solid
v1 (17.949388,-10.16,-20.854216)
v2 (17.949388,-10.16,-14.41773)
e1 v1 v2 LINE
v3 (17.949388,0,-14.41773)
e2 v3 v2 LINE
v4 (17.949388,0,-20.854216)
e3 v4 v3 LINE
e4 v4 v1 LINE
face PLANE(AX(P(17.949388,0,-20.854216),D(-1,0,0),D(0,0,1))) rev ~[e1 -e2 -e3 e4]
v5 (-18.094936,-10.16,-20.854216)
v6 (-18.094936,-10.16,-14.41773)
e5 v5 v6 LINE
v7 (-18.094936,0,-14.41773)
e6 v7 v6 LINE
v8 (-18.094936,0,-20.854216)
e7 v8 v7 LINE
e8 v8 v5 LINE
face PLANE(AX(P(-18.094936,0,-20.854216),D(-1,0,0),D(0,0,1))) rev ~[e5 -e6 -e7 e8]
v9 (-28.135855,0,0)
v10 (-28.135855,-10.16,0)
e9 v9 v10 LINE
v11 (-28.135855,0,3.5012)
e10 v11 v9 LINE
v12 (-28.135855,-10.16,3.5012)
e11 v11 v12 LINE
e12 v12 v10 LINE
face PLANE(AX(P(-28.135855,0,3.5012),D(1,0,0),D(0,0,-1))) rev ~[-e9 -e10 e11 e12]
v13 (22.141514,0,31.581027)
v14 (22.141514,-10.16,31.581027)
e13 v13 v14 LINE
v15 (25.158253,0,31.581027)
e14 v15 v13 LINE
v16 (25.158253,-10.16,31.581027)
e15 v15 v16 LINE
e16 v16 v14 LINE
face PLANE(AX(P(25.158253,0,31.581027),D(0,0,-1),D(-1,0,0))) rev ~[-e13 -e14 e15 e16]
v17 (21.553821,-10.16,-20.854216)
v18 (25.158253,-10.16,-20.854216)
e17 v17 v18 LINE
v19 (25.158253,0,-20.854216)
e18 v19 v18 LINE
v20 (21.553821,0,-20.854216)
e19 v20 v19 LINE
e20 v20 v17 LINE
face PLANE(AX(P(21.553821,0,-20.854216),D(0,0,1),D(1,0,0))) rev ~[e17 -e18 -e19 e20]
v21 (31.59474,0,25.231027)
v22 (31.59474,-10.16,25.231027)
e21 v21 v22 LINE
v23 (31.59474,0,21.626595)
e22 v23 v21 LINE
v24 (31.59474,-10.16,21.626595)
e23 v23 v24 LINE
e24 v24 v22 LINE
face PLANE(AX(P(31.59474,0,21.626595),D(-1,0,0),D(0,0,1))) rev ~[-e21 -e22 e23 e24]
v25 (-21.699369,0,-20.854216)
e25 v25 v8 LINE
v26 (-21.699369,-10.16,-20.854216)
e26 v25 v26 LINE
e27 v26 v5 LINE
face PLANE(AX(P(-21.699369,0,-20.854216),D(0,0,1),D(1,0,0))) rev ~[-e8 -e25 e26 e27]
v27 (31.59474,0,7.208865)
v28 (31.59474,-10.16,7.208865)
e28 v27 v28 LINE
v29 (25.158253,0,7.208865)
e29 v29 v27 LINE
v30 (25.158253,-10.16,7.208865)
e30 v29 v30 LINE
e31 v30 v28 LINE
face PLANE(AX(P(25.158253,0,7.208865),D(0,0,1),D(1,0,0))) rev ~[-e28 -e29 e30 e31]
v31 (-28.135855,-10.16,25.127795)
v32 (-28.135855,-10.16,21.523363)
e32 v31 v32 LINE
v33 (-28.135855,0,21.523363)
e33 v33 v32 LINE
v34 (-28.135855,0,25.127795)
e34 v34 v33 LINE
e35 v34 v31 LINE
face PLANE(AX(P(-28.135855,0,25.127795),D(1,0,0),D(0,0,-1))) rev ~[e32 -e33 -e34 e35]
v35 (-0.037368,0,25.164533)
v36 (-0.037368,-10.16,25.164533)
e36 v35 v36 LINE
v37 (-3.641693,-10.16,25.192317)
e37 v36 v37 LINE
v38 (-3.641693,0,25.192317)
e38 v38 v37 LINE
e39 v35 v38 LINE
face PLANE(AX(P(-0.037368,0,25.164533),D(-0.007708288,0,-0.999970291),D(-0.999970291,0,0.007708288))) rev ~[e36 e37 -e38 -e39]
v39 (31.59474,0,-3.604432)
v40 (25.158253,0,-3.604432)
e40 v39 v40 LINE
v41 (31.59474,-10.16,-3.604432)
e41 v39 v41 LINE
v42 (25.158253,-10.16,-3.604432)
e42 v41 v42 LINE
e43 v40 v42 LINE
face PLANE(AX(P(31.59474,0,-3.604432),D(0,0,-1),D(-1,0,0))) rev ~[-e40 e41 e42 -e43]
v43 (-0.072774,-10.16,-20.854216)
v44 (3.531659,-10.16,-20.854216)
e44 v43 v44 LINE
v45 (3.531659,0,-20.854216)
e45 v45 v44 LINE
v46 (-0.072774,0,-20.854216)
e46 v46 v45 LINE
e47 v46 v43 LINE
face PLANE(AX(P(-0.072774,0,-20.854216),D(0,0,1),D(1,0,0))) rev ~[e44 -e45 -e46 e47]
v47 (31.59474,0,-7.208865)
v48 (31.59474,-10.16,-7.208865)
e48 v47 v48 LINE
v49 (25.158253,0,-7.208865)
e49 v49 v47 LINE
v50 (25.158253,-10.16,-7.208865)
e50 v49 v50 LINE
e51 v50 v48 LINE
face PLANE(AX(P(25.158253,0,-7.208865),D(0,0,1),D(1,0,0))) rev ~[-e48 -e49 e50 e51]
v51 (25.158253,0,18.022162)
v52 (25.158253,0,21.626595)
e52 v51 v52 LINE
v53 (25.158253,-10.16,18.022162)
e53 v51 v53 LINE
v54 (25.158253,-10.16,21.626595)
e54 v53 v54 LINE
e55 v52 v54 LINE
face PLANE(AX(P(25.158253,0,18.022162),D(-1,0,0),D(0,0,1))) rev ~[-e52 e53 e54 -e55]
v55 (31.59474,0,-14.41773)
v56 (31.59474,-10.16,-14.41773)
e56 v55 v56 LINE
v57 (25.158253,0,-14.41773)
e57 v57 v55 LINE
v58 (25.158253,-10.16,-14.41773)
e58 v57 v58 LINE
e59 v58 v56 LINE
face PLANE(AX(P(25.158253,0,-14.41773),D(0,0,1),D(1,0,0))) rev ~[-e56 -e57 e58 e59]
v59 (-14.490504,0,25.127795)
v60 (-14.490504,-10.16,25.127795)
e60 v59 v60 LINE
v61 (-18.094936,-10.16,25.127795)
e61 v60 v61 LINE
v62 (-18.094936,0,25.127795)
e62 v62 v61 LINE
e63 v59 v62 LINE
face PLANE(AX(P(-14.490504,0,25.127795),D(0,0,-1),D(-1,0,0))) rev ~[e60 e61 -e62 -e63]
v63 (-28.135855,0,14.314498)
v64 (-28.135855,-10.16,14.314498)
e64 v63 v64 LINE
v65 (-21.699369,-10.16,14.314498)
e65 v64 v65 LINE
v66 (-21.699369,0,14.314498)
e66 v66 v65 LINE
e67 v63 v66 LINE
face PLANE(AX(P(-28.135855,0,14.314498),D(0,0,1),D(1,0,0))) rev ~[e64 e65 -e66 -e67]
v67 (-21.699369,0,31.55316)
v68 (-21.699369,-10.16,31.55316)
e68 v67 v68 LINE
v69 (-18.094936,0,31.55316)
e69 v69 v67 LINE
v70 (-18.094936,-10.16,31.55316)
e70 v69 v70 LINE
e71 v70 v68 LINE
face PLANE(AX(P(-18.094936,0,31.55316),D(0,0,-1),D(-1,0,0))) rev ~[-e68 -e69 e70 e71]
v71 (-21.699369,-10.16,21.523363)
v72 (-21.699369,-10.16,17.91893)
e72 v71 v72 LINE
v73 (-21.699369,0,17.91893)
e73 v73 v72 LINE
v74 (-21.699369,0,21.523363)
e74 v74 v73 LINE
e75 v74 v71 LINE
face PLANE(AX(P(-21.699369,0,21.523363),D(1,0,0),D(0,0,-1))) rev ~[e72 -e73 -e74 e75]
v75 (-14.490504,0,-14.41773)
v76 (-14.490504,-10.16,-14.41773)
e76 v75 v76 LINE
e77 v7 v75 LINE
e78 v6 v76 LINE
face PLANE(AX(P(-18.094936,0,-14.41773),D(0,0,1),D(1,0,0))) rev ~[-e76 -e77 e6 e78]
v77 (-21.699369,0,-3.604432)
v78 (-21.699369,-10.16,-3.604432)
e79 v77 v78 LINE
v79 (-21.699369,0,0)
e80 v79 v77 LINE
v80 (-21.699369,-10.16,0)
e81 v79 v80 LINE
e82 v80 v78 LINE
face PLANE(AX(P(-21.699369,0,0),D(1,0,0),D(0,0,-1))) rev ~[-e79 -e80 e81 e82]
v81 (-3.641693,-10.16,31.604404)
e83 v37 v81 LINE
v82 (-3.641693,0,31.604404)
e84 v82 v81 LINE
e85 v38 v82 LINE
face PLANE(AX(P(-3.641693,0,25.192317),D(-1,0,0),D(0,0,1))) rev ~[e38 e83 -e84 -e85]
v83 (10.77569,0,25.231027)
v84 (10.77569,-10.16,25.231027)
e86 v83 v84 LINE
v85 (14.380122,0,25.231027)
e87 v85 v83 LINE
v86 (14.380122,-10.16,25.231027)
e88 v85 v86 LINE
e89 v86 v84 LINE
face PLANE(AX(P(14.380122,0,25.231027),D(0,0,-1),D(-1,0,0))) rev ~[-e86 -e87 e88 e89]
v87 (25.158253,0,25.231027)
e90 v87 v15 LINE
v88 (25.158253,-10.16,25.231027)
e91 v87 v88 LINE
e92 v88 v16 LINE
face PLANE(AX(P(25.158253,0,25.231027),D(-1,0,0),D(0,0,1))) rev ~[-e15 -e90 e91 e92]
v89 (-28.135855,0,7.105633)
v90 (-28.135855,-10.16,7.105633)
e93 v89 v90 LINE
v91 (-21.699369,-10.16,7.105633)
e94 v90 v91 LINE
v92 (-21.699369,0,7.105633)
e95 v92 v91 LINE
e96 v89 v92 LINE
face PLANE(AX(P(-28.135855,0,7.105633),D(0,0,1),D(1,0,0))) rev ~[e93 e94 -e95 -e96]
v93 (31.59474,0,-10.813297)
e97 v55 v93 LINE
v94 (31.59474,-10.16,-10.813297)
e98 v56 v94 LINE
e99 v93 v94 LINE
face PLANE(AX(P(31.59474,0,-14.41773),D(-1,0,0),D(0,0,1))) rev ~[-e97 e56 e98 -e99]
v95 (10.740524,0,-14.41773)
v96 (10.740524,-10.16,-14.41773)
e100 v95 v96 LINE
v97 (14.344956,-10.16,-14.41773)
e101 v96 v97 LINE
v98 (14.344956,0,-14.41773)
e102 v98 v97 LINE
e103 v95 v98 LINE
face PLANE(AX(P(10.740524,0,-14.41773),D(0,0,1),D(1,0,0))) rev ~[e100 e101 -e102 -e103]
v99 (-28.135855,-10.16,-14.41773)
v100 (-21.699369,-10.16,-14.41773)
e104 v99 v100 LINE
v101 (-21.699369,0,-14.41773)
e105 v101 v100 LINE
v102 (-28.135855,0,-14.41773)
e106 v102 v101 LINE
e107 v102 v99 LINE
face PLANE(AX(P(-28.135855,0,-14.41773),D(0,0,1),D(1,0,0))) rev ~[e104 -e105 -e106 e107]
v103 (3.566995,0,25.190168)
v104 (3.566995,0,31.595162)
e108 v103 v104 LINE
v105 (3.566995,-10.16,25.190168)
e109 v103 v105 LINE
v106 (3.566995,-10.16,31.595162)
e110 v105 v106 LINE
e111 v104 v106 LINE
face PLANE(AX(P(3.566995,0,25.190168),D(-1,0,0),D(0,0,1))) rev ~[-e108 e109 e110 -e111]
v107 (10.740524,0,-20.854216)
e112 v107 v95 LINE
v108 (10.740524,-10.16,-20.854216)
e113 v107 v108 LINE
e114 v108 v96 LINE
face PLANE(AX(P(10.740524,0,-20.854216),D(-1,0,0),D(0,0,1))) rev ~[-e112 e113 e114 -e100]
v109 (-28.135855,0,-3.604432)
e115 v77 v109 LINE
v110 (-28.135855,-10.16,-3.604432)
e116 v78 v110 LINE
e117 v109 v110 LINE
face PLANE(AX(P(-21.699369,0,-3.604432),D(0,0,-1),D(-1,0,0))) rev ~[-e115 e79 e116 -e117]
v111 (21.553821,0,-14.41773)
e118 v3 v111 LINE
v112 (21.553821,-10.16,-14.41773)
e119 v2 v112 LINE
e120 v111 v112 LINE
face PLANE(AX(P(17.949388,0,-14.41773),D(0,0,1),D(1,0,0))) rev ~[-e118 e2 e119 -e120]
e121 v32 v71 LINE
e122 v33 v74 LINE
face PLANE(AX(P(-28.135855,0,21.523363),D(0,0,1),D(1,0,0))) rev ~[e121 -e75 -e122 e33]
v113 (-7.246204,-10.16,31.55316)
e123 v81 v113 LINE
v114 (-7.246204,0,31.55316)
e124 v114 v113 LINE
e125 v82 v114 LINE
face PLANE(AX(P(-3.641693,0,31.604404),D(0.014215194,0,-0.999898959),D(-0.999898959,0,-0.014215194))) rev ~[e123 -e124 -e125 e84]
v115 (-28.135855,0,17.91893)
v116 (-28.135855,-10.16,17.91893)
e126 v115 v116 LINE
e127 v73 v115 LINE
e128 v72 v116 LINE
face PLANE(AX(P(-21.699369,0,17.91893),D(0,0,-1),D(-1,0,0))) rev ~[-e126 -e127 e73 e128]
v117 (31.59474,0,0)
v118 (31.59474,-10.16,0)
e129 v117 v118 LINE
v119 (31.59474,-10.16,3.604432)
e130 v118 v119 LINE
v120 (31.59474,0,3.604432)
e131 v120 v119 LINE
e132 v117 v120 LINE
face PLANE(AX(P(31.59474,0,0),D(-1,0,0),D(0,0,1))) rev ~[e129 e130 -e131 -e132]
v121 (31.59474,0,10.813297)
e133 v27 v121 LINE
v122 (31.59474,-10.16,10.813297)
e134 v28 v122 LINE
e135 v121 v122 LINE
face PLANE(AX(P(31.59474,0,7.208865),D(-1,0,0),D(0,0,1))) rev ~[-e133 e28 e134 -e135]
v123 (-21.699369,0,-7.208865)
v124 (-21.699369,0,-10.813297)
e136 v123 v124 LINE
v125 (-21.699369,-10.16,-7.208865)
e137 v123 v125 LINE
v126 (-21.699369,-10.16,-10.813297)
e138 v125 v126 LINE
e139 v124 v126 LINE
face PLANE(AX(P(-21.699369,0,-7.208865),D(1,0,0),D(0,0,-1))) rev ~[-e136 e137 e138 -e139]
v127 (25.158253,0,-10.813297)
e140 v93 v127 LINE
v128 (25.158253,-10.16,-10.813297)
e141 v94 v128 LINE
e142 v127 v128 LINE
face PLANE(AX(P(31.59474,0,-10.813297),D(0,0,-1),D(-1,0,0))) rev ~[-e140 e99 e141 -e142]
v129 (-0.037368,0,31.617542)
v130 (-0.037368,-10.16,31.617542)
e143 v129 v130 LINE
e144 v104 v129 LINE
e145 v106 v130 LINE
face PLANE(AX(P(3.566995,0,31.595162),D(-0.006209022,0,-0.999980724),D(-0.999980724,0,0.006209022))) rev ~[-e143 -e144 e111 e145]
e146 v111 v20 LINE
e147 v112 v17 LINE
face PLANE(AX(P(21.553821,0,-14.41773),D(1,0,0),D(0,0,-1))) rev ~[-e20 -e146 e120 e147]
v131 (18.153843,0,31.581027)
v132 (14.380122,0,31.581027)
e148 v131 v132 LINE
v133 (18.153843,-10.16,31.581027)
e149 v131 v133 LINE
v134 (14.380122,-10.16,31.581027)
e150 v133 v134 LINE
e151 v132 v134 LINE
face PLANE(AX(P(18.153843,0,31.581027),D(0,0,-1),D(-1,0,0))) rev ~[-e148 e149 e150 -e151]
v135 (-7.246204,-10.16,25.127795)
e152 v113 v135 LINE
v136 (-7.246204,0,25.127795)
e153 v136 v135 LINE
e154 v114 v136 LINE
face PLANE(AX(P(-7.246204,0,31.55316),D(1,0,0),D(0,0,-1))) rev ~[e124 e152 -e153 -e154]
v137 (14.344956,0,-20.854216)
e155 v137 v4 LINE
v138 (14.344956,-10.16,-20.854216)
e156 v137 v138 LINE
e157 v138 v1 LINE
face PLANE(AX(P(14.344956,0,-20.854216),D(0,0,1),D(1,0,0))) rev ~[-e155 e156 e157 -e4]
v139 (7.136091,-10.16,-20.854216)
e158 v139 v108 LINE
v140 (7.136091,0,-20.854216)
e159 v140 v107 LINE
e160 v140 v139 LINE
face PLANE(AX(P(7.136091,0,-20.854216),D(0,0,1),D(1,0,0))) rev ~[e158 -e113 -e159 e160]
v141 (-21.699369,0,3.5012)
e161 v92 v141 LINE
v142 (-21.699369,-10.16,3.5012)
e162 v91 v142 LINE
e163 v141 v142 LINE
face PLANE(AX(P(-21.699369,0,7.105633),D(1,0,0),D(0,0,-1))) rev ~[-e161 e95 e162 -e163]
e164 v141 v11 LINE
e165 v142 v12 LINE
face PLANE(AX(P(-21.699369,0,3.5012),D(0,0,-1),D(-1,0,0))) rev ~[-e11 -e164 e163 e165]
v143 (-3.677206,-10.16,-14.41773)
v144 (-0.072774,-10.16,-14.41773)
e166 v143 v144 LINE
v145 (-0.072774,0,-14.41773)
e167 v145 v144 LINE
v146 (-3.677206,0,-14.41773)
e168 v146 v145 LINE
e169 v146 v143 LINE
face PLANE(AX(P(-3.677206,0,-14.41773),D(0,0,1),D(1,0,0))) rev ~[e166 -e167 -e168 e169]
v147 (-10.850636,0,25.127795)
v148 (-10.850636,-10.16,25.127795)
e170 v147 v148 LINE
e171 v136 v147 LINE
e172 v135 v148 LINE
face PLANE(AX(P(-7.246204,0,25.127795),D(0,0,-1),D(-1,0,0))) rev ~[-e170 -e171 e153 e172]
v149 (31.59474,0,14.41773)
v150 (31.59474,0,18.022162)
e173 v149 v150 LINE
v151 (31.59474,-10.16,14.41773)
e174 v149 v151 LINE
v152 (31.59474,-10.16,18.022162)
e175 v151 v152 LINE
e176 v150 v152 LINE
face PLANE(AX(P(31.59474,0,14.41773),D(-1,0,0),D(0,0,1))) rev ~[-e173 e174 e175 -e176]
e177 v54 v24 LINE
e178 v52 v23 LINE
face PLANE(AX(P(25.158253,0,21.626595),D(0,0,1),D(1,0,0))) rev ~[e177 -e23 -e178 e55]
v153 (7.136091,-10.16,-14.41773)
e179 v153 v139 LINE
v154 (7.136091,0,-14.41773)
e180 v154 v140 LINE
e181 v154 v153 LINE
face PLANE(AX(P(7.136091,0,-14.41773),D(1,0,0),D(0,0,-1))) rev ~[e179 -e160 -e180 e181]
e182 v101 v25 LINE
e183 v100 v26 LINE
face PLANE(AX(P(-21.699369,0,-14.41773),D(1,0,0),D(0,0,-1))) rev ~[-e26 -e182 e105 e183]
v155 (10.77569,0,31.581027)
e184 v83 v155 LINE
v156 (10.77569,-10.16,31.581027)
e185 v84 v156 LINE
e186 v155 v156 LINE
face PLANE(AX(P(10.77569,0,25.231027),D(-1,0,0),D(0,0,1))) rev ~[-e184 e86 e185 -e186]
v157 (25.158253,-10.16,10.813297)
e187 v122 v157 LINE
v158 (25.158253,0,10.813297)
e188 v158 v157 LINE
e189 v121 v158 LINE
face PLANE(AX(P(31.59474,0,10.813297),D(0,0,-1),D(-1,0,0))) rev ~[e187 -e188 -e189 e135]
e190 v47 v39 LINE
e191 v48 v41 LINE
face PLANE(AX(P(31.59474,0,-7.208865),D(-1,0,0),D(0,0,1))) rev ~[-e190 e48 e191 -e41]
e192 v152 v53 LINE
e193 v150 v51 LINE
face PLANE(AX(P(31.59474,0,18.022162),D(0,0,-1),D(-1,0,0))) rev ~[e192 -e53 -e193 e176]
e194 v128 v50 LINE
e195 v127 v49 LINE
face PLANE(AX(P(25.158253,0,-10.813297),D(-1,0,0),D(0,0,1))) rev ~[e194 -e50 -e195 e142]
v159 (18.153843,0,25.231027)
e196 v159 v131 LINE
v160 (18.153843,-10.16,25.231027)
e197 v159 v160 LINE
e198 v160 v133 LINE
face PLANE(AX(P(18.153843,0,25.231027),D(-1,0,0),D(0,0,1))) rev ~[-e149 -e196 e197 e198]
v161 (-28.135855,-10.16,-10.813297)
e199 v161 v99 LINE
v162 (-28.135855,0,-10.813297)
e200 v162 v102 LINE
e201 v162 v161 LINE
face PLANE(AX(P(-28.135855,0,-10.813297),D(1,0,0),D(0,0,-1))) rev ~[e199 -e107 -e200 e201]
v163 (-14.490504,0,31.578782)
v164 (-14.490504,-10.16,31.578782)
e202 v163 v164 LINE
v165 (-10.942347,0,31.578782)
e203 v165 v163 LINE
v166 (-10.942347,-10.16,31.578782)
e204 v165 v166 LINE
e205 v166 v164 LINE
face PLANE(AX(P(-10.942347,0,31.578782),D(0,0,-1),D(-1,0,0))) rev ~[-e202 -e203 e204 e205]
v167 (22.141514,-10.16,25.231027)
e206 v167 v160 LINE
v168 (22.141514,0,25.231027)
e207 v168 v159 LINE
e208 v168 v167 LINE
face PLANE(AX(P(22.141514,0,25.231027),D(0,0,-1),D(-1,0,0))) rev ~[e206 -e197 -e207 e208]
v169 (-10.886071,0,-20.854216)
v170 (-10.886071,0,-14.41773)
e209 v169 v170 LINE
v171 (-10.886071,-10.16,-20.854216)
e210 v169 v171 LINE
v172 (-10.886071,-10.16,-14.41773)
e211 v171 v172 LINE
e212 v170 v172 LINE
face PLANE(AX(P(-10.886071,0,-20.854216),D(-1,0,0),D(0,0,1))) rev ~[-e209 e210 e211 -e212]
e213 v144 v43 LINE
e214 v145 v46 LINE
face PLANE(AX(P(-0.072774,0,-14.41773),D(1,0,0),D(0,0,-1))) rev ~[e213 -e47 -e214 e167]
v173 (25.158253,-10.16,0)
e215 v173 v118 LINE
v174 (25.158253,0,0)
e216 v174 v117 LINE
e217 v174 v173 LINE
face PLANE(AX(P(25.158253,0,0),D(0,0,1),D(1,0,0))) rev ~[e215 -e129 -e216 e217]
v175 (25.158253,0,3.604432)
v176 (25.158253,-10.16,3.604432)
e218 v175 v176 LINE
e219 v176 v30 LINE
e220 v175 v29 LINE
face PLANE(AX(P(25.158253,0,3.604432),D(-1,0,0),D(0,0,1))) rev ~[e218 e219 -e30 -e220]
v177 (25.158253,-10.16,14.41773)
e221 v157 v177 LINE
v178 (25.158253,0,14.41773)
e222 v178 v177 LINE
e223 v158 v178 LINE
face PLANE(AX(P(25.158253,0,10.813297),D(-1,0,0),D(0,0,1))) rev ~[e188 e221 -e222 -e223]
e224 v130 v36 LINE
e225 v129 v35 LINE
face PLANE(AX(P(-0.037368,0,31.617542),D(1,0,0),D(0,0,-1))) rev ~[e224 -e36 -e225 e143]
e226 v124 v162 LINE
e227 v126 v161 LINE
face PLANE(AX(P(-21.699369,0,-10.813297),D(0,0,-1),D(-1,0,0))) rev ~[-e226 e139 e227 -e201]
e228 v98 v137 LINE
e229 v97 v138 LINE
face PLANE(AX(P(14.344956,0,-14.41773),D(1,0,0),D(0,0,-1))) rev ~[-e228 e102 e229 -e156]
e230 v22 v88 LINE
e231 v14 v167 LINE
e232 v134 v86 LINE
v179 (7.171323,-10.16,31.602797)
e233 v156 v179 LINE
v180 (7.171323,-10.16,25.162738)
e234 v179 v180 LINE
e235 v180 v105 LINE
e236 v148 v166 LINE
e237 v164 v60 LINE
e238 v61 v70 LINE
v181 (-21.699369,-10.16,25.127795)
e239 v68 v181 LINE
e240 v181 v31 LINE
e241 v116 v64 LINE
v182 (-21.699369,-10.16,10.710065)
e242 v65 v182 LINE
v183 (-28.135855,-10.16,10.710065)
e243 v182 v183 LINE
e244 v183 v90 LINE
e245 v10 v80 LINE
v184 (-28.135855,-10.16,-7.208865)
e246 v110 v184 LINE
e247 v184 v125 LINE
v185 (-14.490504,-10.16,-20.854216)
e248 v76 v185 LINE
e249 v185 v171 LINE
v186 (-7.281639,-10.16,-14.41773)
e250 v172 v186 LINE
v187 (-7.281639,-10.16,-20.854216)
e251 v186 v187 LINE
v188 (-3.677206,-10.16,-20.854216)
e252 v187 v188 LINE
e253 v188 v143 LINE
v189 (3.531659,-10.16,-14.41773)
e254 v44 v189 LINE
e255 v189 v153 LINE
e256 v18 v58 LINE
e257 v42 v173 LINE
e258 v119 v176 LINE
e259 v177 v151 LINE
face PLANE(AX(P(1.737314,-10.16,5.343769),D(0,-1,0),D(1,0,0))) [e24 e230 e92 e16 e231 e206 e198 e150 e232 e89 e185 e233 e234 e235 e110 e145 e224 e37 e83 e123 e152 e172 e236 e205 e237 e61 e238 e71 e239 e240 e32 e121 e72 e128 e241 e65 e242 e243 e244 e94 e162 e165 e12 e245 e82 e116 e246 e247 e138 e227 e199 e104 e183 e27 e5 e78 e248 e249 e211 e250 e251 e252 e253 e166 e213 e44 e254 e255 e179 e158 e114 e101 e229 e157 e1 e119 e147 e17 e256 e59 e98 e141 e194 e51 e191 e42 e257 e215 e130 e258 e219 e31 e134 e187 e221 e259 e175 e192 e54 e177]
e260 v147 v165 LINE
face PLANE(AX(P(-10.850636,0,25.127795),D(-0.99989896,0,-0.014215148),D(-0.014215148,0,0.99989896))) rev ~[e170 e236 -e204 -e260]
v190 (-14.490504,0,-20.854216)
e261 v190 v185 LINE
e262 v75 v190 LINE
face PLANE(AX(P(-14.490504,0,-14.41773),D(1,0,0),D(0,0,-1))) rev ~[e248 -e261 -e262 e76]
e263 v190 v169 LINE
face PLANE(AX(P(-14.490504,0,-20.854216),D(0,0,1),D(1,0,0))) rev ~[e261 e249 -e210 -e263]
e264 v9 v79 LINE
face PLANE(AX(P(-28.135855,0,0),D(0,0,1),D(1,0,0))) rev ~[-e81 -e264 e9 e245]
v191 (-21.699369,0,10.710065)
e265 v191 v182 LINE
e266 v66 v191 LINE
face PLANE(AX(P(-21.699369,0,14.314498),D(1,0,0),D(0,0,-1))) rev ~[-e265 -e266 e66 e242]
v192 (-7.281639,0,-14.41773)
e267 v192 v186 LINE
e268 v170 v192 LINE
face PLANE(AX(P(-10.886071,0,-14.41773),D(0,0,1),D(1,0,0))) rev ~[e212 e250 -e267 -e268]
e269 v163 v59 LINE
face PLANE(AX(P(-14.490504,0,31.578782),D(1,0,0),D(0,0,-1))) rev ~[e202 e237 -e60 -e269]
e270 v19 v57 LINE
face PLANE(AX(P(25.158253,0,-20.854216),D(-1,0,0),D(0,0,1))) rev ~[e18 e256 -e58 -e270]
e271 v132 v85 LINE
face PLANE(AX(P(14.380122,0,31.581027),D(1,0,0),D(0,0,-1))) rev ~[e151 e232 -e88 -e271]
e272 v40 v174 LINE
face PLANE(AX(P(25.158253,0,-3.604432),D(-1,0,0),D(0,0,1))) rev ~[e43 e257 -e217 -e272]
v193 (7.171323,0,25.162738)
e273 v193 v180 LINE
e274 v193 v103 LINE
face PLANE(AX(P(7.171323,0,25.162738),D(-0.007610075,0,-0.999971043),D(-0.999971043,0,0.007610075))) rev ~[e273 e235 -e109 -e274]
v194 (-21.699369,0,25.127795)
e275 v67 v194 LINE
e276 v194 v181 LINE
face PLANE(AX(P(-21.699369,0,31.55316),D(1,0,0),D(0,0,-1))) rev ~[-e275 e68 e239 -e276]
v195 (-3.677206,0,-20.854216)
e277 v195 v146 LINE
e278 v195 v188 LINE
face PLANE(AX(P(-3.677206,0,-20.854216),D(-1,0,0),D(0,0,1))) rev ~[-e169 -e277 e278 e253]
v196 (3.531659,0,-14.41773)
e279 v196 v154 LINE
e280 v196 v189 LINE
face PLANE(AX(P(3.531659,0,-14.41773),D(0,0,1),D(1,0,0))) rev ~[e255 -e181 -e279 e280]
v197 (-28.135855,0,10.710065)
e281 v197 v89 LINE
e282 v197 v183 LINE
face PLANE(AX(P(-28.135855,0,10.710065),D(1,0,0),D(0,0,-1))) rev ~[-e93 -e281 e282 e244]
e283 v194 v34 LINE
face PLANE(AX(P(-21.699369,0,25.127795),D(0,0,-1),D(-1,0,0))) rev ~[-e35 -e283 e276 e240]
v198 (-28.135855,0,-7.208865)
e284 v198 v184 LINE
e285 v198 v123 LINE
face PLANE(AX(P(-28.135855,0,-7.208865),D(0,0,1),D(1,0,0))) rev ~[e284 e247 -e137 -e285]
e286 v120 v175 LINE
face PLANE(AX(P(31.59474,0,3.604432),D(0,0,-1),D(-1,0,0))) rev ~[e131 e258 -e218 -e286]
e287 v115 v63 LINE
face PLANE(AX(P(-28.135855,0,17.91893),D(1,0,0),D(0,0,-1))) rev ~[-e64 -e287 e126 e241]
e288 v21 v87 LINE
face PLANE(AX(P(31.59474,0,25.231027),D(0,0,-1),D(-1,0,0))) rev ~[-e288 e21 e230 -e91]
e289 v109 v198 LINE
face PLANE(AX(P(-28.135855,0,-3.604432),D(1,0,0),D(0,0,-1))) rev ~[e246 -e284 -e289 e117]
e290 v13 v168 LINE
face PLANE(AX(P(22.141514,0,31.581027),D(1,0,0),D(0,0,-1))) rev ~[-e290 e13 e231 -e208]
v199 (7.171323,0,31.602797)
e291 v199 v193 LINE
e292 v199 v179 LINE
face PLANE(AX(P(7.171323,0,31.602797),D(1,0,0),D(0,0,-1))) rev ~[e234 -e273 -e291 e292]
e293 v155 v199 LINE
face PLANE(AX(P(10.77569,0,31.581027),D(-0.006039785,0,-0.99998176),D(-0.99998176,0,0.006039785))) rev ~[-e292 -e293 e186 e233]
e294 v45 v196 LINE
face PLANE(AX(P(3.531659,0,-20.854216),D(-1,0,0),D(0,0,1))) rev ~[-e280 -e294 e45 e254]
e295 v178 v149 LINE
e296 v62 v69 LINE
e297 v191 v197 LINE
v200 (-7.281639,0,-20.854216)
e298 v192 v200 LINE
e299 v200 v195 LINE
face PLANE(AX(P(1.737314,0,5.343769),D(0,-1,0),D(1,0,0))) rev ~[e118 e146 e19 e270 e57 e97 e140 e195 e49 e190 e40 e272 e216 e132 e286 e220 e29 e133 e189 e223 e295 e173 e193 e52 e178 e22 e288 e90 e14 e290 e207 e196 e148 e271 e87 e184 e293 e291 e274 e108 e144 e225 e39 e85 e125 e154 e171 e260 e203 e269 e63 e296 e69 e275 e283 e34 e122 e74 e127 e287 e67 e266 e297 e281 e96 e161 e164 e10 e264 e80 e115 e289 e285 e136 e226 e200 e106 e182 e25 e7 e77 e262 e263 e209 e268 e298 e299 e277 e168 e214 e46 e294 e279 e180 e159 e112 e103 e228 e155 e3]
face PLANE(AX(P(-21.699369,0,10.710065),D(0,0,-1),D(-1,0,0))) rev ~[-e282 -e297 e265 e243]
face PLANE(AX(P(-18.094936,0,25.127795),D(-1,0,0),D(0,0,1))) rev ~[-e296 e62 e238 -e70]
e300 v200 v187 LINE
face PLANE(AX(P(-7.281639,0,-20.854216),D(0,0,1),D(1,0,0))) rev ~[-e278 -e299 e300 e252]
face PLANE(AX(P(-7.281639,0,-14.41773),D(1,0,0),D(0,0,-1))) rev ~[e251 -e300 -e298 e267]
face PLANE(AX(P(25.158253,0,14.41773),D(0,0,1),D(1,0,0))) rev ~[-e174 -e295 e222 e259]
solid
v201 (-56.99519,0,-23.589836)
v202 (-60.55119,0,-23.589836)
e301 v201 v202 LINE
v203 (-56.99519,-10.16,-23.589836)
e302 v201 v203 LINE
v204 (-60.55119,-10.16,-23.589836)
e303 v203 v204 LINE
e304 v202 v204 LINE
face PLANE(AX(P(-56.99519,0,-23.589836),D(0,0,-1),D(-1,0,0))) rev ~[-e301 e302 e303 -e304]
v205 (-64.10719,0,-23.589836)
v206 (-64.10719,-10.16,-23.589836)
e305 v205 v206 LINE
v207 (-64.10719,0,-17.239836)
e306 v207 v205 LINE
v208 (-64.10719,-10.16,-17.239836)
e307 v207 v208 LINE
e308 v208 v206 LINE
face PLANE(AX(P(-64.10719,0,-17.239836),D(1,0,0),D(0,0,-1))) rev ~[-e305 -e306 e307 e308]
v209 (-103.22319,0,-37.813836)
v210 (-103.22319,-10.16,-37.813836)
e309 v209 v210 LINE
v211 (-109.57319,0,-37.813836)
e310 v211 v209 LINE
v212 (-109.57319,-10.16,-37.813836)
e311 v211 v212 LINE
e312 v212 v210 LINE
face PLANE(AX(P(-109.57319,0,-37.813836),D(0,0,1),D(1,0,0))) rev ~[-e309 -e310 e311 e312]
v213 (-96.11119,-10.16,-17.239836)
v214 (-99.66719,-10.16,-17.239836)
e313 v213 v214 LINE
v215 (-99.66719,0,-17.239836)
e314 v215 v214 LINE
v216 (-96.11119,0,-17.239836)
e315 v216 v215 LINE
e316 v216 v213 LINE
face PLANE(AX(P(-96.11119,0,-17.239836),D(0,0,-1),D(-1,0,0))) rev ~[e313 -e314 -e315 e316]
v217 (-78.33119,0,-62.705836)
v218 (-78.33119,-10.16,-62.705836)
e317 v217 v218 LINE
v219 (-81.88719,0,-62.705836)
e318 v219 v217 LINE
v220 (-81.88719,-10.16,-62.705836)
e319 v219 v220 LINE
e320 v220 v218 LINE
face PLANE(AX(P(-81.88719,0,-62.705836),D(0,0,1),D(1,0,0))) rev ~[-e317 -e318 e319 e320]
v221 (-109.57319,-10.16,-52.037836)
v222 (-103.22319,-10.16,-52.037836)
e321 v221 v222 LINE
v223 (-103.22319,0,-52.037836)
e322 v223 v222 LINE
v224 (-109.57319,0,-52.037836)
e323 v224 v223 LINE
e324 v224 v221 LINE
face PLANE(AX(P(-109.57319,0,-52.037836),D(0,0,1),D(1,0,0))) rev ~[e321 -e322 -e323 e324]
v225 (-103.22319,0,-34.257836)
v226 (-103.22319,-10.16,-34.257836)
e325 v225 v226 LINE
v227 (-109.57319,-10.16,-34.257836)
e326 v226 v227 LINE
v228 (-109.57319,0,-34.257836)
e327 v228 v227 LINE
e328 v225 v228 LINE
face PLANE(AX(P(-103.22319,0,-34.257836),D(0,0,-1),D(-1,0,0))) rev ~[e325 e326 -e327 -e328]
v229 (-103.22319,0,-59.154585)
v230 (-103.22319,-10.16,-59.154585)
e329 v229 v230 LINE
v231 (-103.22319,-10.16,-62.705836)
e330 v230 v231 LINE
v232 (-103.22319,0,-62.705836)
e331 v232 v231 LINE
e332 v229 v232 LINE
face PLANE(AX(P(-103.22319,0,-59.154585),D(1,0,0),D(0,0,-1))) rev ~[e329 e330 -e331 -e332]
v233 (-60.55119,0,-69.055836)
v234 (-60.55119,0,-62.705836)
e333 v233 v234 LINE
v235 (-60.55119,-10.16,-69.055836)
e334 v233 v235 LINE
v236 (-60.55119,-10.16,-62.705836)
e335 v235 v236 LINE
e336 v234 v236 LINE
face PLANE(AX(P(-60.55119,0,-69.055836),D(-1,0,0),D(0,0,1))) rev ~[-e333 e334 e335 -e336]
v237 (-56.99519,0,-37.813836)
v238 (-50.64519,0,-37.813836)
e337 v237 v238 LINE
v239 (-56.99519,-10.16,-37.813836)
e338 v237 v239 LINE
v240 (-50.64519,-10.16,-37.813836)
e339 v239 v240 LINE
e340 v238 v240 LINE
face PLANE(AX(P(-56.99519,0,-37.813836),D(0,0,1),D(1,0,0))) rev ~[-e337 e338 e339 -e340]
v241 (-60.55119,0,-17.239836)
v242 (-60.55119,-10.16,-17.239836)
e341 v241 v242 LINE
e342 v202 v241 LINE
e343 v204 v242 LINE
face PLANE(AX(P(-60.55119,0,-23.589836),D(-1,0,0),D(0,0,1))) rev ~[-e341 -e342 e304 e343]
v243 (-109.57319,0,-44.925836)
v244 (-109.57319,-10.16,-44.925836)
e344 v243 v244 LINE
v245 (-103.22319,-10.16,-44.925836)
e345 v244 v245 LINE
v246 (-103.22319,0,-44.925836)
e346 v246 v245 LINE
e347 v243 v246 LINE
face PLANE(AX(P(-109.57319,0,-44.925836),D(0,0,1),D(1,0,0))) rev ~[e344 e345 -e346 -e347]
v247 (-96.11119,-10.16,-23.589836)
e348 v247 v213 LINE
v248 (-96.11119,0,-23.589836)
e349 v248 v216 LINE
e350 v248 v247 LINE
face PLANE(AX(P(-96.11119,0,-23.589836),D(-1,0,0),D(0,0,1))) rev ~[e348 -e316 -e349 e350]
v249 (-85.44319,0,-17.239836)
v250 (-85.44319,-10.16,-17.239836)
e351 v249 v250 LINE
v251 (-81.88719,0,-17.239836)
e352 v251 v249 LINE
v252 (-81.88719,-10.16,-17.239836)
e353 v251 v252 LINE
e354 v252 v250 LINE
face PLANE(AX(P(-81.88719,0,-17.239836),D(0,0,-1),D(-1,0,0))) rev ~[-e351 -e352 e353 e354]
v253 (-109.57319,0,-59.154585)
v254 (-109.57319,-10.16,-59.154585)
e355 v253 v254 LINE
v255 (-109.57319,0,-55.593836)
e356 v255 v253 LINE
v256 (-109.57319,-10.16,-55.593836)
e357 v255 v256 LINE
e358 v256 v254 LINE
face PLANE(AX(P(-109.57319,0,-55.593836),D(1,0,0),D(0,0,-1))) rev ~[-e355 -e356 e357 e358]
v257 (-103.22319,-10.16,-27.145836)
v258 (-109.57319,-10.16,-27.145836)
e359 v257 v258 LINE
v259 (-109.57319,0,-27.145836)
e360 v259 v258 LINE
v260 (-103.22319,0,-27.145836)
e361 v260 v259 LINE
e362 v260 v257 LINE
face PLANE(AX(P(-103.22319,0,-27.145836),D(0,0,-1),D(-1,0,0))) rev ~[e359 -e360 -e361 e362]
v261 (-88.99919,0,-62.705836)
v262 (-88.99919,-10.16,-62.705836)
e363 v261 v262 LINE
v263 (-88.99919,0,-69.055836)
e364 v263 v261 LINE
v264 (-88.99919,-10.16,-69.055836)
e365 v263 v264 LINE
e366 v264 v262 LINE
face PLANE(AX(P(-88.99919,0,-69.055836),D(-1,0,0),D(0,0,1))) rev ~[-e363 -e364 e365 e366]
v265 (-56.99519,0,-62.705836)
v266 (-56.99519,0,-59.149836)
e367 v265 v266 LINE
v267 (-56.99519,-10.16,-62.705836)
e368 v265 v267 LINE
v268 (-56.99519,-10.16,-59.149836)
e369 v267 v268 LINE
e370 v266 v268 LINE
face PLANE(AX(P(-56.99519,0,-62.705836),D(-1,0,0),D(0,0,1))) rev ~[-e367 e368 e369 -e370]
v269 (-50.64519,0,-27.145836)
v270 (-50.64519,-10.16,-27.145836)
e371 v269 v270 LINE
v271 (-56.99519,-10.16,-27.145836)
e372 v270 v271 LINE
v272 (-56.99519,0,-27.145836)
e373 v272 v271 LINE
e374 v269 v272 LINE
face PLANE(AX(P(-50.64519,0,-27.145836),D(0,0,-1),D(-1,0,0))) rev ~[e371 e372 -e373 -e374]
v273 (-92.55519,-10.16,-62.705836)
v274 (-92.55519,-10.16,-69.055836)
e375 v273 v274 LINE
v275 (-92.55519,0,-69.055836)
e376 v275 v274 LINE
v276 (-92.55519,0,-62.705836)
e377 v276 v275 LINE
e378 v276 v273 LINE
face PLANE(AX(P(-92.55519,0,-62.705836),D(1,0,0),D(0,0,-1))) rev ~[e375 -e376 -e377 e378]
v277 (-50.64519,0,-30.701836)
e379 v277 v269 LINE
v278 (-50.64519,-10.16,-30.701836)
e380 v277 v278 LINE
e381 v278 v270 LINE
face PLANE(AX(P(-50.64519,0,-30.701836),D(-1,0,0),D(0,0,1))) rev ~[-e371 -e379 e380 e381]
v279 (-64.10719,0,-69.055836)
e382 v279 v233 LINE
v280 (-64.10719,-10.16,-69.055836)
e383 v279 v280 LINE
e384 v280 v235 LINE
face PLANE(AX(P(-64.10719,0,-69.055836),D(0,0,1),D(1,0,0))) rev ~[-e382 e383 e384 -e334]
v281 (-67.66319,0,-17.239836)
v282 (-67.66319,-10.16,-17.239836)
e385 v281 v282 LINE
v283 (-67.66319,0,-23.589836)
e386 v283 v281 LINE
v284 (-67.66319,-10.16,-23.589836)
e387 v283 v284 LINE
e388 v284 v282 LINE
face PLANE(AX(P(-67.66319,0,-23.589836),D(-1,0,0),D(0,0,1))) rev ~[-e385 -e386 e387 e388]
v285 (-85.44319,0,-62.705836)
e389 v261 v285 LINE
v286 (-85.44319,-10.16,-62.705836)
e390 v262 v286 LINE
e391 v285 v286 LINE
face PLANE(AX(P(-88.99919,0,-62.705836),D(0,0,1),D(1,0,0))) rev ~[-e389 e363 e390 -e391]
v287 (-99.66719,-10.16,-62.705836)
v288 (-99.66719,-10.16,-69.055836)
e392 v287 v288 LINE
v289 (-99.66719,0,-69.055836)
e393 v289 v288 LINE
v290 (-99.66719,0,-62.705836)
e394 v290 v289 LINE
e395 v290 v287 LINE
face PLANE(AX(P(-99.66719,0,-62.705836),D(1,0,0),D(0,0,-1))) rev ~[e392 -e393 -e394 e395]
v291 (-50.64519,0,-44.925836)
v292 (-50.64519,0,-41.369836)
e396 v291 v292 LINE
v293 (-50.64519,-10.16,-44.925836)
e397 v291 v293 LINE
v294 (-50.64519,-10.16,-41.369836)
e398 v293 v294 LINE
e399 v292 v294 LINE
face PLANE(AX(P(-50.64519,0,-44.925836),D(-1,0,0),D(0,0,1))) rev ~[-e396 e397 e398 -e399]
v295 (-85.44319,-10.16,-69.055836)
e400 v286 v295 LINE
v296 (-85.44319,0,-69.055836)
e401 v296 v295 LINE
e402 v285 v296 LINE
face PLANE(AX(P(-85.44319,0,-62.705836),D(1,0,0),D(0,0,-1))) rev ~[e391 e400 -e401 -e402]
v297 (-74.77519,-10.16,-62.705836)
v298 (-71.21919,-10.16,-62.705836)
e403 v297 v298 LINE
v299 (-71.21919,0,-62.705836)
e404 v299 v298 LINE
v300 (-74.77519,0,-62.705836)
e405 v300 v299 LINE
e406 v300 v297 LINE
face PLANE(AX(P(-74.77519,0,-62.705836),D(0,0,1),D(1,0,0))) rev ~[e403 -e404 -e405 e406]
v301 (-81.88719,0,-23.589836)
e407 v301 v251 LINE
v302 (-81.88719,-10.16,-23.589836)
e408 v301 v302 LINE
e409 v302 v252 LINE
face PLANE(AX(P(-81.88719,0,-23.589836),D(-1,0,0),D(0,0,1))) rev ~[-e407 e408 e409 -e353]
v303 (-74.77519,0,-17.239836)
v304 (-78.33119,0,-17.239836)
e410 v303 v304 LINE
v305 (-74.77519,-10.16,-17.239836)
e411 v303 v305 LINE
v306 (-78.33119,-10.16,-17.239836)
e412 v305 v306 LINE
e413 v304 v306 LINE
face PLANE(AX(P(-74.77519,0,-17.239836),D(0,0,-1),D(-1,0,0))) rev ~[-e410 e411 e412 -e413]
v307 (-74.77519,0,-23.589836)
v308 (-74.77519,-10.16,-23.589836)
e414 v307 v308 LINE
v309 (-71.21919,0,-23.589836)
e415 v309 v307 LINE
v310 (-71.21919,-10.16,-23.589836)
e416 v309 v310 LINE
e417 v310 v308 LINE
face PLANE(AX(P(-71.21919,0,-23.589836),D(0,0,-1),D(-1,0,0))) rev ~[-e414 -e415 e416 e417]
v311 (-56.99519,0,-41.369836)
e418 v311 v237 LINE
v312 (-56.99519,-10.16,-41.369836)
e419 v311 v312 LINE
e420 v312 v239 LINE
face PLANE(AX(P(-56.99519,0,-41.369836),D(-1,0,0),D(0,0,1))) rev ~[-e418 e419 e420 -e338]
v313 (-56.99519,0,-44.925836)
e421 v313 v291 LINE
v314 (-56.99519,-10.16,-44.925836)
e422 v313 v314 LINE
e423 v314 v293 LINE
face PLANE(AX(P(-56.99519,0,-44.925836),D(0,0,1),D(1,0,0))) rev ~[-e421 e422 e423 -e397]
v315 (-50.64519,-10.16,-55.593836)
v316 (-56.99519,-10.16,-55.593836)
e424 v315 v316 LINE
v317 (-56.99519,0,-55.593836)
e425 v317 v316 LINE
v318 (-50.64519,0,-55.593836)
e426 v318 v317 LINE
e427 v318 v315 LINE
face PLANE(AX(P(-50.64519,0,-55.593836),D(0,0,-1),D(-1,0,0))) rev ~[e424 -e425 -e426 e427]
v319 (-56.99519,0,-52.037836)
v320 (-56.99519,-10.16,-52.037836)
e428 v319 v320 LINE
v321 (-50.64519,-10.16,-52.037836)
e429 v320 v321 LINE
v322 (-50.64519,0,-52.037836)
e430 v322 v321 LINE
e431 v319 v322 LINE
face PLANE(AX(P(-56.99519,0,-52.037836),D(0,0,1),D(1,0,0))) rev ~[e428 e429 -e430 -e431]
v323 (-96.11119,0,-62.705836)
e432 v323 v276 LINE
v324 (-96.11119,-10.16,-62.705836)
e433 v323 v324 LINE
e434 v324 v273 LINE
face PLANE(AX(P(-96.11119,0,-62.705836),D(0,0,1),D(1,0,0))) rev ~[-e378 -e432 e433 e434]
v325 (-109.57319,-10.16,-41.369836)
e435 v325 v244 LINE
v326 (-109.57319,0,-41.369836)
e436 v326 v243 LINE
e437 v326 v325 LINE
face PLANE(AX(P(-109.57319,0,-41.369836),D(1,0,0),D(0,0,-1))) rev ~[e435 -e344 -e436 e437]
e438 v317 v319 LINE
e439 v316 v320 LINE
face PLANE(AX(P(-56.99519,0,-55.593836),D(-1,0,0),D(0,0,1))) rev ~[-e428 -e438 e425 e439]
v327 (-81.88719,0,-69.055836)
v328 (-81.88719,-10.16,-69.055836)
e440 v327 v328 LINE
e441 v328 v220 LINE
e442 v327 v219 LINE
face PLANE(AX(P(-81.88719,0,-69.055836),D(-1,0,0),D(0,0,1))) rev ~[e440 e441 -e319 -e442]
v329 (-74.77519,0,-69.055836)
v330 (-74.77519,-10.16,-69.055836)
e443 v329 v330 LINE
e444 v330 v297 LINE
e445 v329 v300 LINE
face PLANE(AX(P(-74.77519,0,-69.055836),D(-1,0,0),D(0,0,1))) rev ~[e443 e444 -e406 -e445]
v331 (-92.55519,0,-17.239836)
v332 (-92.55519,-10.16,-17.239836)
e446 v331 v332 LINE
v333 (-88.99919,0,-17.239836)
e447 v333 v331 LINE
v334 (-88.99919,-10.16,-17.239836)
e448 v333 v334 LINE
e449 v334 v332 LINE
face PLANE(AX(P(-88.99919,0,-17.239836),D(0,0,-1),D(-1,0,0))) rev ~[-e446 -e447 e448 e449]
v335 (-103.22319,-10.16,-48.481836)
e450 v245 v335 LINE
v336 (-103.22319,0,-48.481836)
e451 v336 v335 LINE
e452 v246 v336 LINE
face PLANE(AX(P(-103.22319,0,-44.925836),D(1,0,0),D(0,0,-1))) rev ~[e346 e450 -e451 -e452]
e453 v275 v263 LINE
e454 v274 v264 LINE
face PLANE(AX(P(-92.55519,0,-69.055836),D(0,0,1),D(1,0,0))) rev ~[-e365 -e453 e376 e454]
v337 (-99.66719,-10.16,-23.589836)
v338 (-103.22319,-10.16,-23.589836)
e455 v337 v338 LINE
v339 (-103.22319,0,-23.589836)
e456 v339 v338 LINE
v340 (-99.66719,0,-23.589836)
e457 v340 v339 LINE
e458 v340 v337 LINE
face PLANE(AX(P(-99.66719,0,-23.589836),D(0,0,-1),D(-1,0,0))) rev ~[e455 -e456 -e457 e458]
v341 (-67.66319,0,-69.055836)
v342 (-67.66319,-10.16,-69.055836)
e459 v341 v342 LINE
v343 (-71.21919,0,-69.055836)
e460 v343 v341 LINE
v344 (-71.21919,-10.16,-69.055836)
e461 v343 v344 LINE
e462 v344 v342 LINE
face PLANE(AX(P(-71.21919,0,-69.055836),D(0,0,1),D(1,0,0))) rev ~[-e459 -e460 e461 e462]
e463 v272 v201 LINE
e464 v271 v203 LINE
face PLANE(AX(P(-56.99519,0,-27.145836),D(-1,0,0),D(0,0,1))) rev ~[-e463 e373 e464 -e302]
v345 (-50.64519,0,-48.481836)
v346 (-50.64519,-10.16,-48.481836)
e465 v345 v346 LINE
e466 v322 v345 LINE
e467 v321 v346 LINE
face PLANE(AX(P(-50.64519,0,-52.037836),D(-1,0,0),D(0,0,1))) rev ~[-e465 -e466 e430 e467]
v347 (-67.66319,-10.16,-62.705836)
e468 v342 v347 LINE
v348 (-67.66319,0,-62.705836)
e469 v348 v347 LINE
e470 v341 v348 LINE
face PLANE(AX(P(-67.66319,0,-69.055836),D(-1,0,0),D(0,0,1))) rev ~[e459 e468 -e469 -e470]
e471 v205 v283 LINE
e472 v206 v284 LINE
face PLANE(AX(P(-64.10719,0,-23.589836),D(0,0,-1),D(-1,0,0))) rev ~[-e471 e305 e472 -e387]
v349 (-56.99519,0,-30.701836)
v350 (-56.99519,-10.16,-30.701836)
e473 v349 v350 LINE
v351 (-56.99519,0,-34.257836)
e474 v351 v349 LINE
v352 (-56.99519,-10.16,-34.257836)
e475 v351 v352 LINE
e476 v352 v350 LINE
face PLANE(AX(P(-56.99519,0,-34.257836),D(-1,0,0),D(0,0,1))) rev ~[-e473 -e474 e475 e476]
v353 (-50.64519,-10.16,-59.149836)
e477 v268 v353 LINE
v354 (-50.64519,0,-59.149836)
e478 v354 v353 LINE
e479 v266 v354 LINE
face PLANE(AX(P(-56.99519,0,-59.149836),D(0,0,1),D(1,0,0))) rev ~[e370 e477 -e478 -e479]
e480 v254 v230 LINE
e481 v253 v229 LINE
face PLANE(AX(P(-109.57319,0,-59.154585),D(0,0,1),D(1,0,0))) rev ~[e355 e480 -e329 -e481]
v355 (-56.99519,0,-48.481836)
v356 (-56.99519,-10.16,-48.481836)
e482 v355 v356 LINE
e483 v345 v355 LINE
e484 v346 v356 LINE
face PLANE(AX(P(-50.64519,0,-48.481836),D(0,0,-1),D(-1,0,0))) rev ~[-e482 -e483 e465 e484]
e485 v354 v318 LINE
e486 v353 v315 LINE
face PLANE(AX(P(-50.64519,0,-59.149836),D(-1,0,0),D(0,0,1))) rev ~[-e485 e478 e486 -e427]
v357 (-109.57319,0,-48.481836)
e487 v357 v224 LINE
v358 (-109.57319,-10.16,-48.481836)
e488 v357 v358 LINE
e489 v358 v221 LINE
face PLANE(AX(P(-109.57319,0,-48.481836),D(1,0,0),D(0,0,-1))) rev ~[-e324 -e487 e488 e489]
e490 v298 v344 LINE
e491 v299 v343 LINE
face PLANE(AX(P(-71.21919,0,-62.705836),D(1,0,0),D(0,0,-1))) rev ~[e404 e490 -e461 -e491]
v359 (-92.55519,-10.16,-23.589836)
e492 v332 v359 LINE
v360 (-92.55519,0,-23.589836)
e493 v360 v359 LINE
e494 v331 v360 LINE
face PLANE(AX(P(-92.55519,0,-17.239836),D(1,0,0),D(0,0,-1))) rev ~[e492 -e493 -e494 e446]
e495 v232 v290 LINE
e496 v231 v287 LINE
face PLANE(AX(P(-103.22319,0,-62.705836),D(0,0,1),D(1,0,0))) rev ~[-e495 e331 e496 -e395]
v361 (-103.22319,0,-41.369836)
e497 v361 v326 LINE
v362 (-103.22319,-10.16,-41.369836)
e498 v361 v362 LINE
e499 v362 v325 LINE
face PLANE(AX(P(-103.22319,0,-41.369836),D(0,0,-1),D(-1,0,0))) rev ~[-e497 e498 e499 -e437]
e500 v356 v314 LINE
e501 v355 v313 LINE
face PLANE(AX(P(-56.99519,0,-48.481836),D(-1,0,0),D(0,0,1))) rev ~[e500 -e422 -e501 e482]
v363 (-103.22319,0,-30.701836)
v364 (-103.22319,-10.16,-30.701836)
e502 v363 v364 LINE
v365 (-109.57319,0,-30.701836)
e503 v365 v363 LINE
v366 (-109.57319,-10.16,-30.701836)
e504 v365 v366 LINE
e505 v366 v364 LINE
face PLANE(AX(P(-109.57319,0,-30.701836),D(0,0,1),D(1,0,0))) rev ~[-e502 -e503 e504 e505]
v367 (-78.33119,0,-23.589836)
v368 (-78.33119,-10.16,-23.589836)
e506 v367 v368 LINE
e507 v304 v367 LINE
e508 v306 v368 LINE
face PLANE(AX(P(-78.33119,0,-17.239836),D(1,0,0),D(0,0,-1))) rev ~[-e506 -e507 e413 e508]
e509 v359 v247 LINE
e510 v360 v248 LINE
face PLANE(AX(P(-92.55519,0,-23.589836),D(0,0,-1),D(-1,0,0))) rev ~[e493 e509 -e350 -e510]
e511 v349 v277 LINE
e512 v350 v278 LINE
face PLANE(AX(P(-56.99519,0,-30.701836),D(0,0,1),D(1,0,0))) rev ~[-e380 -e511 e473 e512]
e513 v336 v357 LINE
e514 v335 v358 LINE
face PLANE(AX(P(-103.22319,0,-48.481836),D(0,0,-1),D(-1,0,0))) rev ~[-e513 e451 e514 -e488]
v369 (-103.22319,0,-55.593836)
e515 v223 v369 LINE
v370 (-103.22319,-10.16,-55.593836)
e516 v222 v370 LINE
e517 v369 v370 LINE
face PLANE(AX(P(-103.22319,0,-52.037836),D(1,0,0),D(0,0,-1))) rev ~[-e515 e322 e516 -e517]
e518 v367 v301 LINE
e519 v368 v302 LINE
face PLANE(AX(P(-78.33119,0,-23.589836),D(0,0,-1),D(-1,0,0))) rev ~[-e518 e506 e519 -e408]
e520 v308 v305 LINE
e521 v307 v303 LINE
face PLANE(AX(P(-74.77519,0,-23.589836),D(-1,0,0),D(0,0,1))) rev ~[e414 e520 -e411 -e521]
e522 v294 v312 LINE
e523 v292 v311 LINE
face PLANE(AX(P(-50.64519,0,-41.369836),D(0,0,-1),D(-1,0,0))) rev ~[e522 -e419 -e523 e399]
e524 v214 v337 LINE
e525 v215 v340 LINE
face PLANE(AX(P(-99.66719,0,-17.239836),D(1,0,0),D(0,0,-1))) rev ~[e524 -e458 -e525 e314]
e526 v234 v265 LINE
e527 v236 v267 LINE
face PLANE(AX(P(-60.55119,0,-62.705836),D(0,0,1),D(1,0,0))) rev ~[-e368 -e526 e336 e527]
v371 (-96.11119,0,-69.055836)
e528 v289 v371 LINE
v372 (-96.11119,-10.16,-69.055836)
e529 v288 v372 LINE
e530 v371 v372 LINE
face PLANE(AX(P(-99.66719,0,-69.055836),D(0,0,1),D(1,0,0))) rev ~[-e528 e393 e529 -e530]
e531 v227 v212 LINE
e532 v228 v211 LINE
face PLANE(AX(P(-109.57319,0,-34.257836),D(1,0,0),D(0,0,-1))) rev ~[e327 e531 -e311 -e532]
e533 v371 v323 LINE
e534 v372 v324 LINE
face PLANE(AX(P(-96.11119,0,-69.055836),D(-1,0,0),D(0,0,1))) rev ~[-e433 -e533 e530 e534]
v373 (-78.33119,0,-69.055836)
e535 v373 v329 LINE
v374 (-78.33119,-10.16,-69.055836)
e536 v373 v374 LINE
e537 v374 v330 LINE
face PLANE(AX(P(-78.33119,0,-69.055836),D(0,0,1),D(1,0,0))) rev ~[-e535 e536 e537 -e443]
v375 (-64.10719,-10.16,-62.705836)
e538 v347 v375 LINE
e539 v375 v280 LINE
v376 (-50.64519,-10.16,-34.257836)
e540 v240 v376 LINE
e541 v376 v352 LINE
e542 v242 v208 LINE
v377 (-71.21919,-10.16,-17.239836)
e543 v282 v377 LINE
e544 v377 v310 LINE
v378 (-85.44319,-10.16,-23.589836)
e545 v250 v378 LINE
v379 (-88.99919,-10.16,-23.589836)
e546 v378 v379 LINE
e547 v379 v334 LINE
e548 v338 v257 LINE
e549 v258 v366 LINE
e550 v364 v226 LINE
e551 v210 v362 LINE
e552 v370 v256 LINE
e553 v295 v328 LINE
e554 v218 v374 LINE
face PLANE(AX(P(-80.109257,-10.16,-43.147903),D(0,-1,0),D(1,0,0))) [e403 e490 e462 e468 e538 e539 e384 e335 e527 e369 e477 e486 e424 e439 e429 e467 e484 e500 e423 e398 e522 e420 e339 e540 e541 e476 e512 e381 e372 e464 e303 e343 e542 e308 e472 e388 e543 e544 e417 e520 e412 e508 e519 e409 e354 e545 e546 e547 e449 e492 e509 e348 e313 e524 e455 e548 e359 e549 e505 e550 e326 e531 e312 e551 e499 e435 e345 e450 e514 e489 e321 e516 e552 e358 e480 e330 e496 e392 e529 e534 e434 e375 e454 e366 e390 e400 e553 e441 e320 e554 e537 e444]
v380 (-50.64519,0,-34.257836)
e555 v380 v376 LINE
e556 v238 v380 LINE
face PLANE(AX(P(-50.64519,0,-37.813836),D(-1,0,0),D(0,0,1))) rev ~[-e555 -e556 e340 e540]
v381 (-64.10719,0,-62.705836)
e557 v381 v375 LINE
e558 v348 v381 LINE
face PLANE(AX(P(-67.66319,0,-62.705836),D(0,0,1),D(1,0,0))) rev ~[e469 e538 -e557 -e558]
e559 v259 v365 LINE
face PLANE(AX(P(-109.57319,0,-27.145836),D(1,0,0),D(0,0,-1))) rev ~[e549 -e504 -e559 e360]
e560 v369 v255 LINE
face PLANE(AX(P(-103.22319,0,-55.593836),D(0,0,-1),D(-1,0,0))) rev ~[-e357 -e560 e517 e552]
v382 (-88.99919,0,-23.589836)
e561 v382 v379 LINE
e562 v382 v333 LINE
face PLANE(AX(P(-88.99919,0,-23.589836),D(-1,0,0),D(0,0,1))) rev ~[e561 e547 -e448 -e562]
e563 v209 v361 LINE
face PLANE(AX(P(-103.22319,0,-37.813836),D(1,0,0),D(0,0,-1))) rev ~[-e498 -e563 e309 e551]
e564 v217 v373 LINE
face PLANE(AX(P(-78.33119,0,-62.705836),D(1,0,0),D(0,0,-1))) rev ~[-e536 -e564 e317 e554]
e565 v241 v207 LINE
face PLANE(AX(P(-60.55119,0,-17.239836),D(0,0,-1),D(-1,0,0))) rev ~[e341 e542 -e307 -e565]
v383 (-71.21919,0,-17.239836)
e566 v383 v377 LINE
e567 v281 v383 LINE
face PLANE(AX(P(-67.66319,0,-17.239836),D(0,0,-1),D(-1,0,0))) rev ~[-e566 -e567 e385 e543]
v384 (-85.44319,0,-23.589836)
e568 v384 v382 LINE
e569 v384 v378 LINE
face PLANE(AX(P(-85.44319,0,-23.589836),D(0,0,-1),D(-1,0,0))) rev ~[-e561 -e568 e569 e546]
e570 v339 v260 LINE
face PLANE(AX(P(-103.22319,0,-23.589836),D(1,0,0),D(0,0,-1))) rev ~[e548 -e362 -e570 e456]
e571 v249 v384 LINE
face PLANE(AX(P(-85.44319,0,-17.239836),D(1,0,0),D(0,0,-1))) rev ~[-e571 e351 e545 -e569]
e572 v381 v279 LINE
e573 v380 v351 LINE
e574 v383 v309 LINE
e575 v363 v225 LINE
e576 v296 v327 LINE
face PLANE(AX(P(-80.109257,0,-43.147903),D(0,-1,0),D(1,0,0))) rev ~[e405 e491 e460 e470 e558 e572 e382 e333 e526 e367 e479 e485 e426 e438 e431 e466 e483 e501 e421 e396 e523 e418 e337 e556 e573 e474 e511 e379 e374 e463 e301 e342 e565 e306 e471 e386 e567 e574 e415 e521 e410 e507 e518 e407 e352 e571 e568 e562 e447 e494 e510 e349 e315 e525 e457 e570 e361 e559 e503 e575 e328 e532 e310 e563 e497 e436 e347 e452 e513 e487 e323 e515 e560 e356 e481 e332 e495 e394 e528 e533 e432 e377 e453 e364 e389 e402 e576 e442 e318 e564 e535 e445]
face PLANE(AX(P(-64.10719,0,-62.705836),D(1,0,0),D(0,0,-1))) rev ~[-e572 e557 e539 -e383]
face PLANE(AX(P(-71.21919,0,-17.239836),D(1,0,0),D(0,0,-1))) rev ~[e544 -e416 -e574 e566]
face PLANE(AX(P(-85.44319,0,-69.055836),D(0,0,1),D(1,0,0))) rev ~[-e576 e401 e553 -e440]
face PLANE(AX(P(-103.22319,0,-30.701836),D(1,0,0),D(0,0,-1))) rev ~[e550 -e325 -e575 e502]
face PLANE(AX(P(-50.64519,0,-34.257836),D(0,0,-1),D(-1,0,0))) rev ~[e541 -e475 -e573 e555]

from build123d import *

# Parameters (mm, degrees)
F1_DEPTH = 10.16
F3_DEPTH = 10.16


with BuildPart() as f1:
    # F0 (on Front) → F1 (new body)
    with BuildSketch(Plane.XZ):
        Polygon((-7.246204, 25.127795), (-10.850636, 25.127795), (-10.942347, 31.578782), (-14.490504, 31.578782), (-14.490504, 25.127795), (-18.094936, 25.127795), (-18.094936, 31.55316), (-21.699369, 31.55316), (-21.699369, 25.127795), (-28.135855, 25.127795), (-28.135855, 21.523363), (-21.699369, 21.523363), (-21.699369, 17.91893), (-28.135855, 17.91893), (-28.135855, 14.314498), (-21.699369, 14.314498), (-21.699369, 10.710065), (-28.135855, 10.710065), (-28.135855, 7.105633), (-21.699369, 7.105633), (-21.699369, 3.5012), (-28.135855, 3.5012), (-28.135855, 0), (-21.699369, 0), (-21.699369, -3.604432), (-28.135855, -3.604432), (-28.135855, -7.208865), (-21.699369, -7.208865), (-21.699369, -10.813297), (-28.135855, -10.813297), (-28.135855, -14.41773), (-21.699369, -14.41773), (-21.699369, -20.854216), (-18.094936, -20.854216), (-18.094936, -14.41773), (-14.490504, -14.41773), (-14.490504, -20.854216), (-10.886071, -20.854216), (-10.886071, -14.41773), (-7.281639, -14.41773), (-7.281639, -20.854216), (-3.677206, -20.854216), (-3.677206, -14.41773), (-0.072774, -14.41773), (-0.072774, -20.854216), (3.531659, -20.854216), (3.531659, -14.41773), (7.136091, -14.41773), (7.136091, -20.854216), (10.740524, -20.854216), (10.740524, -14.41773), (14.344956, -14.41773), (14.344956, -20.854216), (17.949388, -20.854216), (17.949388, -14.41773), (21.553821, -14.41773), (21.553821, -20.854216), (25.158253, -20.854216), (25.158253, -14.41773), (31.59474, -14.41773), (31.59474, -10.813297), (25.158253, -10.813297), (25.158253, -7.208865), (31.59474, -7.208865), (31.59474, -3.604432), (25.158253, -3.604432), (25.158253, 0), (31.59474, 0), (31.59474, 3.604432), (25.158253, 3.604432), (25.158253, 7.208865), (31.59474, 7.208865), (31.59474, 10.813297), (25.158253, 10.813297), (25.158253, 14.41773), (31.59474, 14.41773), (31.59474, 18.022162), (25.158253, 18.022162), (25.158253, 21.626595), (31.59474, 21.626595), (31.59474, 25.231027), (25.158253, 25.231027), (25.158253, 31.581027), (22.141514, 31.581027), (22.141514, 25.231027), (18.153843, 25.231027), (18.153843, 31.581027), (14.380122, 31.581027), (14.380122, 25.231027), (10.77569, 25.231027), (10.77569, 31.581027), (7.171323, 31.602797), (7.171323, 25.162738), (3.566995, 25.190168), (3.566995, 31.595162), (-0.037368, 31.617542), (-0.037368, 25.164533), (-3.641693, 25.192317), (-3.641693, 31.604404), (-7.246204, 31.55316), align=None)
    extrude(amount=F1_DEPTH)


with BuildPart() as f3:
    # F2 (on Front) → F3 (new body)
    with BuildSketch(Plane.XZ):
        Polygon((-103.22319, -62.705836), (-99.66719, -62.705836), (-99.66719, -69.055836), (-96.11119, -69.055836), (-96.11119, -62.705836), (-92.55519, -62.705836), (-92.55519, -69.055836), (-88.99919, -69.055836), (-88.99919, -62.705836), (-85.44319, -62.705836), (-85.44319, -69.055836), (-81.88719, -69.055836), (-81.88719, -62.705836), (-78.33119, -62.705836), (-78.33119, -69.055836), (-74.77519, -69.055836), (-74.77519, -62.705836), (-71.21919, -62.705836), (-71.21919, -69.055836), (-67.66319, -69.055836), (-67.66319, -62.705836), (-64.10719, -62.705836), (-64.10719, -69.055836), (-60.55119, -69.055836), (-60.55119, -62.705836), (-56.99519, -62.705836), (-56.99519, -59.149836), (-50.64519, -59.149836), (-50.64519, -55.593836), (-56.99519, -55.593836), (-56.99519, -52.037836), (-50.64519, -52.037836), (-50.64519, -48.481836), (-56.99519, -48.481836), (-56.99519, -44.925836), (-50.64519, -44.925836), (-50.64519, -41.369836), (-56.99519, -41.369836), (-56.99519, -37.813836), (-50.64519, -37.813836), (-50.64519, -34.257836), (-56.99519, -34.257836), (-56.99519, -30.701836), (-50.64519, -30.701836), (-50.64519, -27.145836), (-56.99519, -27.145836), (-56.99519, -23.589836), (-60.55119, -23.589836), (-60.55119, -17.239836), (-64.10719, -17.239836), (-64.10719, -23.589836), (-67.66319, -23.589836), (-67.66319, -17.239836), (-71.21919, -17.239836), (-71.21919, -23.589836), (-74.77519, -23.589836), (-74.77519, -17.239836), (-78.33119, -17.239836), (-78.33119, -23.589836), (-81.88719, -23.589836), (-81.88719, -17.239836), (-85.44319, -17.239836), (-85.44319, -23.589836), (-88.99919, -23.589836), (-88.99919, -17.239836), (-92.55519, -17.239836), (-92.55519, -23.589836), (-96.11119, -23.589836), (-96.11119, -17.239836), (-99.66719, -17.239836), (-99.66719, -23.589836), (-103.22319, -23.589836), (-103.22319, -27.145836), (-109.57319, -27.145836), (-109.57319, -30.701836), (-103.22319, -30.701836), (-103.22319, -34.257836), (-109.57319, -34.257836), (-109.57319, -37.813836), (-103.22319, -37.813836), (-103.22319, -41.369836), (-109.57319, -41.369836), (-109.57319, -44.925836), (-103.22319, -44.925836), (-103.22319, -48.481836), (-109.57319, -48.481836), (-109.57319, -52.037836), (-103.22319, -52.037836), (-103.22319, -55.593836), (-109.57319, -55.593836), (-109.57319, -59.154585), (-103.22319, -59.154585), align=None)
    extrude(amount=F3_DEPTH)


solid = Compound([f1.part, f3.part])
